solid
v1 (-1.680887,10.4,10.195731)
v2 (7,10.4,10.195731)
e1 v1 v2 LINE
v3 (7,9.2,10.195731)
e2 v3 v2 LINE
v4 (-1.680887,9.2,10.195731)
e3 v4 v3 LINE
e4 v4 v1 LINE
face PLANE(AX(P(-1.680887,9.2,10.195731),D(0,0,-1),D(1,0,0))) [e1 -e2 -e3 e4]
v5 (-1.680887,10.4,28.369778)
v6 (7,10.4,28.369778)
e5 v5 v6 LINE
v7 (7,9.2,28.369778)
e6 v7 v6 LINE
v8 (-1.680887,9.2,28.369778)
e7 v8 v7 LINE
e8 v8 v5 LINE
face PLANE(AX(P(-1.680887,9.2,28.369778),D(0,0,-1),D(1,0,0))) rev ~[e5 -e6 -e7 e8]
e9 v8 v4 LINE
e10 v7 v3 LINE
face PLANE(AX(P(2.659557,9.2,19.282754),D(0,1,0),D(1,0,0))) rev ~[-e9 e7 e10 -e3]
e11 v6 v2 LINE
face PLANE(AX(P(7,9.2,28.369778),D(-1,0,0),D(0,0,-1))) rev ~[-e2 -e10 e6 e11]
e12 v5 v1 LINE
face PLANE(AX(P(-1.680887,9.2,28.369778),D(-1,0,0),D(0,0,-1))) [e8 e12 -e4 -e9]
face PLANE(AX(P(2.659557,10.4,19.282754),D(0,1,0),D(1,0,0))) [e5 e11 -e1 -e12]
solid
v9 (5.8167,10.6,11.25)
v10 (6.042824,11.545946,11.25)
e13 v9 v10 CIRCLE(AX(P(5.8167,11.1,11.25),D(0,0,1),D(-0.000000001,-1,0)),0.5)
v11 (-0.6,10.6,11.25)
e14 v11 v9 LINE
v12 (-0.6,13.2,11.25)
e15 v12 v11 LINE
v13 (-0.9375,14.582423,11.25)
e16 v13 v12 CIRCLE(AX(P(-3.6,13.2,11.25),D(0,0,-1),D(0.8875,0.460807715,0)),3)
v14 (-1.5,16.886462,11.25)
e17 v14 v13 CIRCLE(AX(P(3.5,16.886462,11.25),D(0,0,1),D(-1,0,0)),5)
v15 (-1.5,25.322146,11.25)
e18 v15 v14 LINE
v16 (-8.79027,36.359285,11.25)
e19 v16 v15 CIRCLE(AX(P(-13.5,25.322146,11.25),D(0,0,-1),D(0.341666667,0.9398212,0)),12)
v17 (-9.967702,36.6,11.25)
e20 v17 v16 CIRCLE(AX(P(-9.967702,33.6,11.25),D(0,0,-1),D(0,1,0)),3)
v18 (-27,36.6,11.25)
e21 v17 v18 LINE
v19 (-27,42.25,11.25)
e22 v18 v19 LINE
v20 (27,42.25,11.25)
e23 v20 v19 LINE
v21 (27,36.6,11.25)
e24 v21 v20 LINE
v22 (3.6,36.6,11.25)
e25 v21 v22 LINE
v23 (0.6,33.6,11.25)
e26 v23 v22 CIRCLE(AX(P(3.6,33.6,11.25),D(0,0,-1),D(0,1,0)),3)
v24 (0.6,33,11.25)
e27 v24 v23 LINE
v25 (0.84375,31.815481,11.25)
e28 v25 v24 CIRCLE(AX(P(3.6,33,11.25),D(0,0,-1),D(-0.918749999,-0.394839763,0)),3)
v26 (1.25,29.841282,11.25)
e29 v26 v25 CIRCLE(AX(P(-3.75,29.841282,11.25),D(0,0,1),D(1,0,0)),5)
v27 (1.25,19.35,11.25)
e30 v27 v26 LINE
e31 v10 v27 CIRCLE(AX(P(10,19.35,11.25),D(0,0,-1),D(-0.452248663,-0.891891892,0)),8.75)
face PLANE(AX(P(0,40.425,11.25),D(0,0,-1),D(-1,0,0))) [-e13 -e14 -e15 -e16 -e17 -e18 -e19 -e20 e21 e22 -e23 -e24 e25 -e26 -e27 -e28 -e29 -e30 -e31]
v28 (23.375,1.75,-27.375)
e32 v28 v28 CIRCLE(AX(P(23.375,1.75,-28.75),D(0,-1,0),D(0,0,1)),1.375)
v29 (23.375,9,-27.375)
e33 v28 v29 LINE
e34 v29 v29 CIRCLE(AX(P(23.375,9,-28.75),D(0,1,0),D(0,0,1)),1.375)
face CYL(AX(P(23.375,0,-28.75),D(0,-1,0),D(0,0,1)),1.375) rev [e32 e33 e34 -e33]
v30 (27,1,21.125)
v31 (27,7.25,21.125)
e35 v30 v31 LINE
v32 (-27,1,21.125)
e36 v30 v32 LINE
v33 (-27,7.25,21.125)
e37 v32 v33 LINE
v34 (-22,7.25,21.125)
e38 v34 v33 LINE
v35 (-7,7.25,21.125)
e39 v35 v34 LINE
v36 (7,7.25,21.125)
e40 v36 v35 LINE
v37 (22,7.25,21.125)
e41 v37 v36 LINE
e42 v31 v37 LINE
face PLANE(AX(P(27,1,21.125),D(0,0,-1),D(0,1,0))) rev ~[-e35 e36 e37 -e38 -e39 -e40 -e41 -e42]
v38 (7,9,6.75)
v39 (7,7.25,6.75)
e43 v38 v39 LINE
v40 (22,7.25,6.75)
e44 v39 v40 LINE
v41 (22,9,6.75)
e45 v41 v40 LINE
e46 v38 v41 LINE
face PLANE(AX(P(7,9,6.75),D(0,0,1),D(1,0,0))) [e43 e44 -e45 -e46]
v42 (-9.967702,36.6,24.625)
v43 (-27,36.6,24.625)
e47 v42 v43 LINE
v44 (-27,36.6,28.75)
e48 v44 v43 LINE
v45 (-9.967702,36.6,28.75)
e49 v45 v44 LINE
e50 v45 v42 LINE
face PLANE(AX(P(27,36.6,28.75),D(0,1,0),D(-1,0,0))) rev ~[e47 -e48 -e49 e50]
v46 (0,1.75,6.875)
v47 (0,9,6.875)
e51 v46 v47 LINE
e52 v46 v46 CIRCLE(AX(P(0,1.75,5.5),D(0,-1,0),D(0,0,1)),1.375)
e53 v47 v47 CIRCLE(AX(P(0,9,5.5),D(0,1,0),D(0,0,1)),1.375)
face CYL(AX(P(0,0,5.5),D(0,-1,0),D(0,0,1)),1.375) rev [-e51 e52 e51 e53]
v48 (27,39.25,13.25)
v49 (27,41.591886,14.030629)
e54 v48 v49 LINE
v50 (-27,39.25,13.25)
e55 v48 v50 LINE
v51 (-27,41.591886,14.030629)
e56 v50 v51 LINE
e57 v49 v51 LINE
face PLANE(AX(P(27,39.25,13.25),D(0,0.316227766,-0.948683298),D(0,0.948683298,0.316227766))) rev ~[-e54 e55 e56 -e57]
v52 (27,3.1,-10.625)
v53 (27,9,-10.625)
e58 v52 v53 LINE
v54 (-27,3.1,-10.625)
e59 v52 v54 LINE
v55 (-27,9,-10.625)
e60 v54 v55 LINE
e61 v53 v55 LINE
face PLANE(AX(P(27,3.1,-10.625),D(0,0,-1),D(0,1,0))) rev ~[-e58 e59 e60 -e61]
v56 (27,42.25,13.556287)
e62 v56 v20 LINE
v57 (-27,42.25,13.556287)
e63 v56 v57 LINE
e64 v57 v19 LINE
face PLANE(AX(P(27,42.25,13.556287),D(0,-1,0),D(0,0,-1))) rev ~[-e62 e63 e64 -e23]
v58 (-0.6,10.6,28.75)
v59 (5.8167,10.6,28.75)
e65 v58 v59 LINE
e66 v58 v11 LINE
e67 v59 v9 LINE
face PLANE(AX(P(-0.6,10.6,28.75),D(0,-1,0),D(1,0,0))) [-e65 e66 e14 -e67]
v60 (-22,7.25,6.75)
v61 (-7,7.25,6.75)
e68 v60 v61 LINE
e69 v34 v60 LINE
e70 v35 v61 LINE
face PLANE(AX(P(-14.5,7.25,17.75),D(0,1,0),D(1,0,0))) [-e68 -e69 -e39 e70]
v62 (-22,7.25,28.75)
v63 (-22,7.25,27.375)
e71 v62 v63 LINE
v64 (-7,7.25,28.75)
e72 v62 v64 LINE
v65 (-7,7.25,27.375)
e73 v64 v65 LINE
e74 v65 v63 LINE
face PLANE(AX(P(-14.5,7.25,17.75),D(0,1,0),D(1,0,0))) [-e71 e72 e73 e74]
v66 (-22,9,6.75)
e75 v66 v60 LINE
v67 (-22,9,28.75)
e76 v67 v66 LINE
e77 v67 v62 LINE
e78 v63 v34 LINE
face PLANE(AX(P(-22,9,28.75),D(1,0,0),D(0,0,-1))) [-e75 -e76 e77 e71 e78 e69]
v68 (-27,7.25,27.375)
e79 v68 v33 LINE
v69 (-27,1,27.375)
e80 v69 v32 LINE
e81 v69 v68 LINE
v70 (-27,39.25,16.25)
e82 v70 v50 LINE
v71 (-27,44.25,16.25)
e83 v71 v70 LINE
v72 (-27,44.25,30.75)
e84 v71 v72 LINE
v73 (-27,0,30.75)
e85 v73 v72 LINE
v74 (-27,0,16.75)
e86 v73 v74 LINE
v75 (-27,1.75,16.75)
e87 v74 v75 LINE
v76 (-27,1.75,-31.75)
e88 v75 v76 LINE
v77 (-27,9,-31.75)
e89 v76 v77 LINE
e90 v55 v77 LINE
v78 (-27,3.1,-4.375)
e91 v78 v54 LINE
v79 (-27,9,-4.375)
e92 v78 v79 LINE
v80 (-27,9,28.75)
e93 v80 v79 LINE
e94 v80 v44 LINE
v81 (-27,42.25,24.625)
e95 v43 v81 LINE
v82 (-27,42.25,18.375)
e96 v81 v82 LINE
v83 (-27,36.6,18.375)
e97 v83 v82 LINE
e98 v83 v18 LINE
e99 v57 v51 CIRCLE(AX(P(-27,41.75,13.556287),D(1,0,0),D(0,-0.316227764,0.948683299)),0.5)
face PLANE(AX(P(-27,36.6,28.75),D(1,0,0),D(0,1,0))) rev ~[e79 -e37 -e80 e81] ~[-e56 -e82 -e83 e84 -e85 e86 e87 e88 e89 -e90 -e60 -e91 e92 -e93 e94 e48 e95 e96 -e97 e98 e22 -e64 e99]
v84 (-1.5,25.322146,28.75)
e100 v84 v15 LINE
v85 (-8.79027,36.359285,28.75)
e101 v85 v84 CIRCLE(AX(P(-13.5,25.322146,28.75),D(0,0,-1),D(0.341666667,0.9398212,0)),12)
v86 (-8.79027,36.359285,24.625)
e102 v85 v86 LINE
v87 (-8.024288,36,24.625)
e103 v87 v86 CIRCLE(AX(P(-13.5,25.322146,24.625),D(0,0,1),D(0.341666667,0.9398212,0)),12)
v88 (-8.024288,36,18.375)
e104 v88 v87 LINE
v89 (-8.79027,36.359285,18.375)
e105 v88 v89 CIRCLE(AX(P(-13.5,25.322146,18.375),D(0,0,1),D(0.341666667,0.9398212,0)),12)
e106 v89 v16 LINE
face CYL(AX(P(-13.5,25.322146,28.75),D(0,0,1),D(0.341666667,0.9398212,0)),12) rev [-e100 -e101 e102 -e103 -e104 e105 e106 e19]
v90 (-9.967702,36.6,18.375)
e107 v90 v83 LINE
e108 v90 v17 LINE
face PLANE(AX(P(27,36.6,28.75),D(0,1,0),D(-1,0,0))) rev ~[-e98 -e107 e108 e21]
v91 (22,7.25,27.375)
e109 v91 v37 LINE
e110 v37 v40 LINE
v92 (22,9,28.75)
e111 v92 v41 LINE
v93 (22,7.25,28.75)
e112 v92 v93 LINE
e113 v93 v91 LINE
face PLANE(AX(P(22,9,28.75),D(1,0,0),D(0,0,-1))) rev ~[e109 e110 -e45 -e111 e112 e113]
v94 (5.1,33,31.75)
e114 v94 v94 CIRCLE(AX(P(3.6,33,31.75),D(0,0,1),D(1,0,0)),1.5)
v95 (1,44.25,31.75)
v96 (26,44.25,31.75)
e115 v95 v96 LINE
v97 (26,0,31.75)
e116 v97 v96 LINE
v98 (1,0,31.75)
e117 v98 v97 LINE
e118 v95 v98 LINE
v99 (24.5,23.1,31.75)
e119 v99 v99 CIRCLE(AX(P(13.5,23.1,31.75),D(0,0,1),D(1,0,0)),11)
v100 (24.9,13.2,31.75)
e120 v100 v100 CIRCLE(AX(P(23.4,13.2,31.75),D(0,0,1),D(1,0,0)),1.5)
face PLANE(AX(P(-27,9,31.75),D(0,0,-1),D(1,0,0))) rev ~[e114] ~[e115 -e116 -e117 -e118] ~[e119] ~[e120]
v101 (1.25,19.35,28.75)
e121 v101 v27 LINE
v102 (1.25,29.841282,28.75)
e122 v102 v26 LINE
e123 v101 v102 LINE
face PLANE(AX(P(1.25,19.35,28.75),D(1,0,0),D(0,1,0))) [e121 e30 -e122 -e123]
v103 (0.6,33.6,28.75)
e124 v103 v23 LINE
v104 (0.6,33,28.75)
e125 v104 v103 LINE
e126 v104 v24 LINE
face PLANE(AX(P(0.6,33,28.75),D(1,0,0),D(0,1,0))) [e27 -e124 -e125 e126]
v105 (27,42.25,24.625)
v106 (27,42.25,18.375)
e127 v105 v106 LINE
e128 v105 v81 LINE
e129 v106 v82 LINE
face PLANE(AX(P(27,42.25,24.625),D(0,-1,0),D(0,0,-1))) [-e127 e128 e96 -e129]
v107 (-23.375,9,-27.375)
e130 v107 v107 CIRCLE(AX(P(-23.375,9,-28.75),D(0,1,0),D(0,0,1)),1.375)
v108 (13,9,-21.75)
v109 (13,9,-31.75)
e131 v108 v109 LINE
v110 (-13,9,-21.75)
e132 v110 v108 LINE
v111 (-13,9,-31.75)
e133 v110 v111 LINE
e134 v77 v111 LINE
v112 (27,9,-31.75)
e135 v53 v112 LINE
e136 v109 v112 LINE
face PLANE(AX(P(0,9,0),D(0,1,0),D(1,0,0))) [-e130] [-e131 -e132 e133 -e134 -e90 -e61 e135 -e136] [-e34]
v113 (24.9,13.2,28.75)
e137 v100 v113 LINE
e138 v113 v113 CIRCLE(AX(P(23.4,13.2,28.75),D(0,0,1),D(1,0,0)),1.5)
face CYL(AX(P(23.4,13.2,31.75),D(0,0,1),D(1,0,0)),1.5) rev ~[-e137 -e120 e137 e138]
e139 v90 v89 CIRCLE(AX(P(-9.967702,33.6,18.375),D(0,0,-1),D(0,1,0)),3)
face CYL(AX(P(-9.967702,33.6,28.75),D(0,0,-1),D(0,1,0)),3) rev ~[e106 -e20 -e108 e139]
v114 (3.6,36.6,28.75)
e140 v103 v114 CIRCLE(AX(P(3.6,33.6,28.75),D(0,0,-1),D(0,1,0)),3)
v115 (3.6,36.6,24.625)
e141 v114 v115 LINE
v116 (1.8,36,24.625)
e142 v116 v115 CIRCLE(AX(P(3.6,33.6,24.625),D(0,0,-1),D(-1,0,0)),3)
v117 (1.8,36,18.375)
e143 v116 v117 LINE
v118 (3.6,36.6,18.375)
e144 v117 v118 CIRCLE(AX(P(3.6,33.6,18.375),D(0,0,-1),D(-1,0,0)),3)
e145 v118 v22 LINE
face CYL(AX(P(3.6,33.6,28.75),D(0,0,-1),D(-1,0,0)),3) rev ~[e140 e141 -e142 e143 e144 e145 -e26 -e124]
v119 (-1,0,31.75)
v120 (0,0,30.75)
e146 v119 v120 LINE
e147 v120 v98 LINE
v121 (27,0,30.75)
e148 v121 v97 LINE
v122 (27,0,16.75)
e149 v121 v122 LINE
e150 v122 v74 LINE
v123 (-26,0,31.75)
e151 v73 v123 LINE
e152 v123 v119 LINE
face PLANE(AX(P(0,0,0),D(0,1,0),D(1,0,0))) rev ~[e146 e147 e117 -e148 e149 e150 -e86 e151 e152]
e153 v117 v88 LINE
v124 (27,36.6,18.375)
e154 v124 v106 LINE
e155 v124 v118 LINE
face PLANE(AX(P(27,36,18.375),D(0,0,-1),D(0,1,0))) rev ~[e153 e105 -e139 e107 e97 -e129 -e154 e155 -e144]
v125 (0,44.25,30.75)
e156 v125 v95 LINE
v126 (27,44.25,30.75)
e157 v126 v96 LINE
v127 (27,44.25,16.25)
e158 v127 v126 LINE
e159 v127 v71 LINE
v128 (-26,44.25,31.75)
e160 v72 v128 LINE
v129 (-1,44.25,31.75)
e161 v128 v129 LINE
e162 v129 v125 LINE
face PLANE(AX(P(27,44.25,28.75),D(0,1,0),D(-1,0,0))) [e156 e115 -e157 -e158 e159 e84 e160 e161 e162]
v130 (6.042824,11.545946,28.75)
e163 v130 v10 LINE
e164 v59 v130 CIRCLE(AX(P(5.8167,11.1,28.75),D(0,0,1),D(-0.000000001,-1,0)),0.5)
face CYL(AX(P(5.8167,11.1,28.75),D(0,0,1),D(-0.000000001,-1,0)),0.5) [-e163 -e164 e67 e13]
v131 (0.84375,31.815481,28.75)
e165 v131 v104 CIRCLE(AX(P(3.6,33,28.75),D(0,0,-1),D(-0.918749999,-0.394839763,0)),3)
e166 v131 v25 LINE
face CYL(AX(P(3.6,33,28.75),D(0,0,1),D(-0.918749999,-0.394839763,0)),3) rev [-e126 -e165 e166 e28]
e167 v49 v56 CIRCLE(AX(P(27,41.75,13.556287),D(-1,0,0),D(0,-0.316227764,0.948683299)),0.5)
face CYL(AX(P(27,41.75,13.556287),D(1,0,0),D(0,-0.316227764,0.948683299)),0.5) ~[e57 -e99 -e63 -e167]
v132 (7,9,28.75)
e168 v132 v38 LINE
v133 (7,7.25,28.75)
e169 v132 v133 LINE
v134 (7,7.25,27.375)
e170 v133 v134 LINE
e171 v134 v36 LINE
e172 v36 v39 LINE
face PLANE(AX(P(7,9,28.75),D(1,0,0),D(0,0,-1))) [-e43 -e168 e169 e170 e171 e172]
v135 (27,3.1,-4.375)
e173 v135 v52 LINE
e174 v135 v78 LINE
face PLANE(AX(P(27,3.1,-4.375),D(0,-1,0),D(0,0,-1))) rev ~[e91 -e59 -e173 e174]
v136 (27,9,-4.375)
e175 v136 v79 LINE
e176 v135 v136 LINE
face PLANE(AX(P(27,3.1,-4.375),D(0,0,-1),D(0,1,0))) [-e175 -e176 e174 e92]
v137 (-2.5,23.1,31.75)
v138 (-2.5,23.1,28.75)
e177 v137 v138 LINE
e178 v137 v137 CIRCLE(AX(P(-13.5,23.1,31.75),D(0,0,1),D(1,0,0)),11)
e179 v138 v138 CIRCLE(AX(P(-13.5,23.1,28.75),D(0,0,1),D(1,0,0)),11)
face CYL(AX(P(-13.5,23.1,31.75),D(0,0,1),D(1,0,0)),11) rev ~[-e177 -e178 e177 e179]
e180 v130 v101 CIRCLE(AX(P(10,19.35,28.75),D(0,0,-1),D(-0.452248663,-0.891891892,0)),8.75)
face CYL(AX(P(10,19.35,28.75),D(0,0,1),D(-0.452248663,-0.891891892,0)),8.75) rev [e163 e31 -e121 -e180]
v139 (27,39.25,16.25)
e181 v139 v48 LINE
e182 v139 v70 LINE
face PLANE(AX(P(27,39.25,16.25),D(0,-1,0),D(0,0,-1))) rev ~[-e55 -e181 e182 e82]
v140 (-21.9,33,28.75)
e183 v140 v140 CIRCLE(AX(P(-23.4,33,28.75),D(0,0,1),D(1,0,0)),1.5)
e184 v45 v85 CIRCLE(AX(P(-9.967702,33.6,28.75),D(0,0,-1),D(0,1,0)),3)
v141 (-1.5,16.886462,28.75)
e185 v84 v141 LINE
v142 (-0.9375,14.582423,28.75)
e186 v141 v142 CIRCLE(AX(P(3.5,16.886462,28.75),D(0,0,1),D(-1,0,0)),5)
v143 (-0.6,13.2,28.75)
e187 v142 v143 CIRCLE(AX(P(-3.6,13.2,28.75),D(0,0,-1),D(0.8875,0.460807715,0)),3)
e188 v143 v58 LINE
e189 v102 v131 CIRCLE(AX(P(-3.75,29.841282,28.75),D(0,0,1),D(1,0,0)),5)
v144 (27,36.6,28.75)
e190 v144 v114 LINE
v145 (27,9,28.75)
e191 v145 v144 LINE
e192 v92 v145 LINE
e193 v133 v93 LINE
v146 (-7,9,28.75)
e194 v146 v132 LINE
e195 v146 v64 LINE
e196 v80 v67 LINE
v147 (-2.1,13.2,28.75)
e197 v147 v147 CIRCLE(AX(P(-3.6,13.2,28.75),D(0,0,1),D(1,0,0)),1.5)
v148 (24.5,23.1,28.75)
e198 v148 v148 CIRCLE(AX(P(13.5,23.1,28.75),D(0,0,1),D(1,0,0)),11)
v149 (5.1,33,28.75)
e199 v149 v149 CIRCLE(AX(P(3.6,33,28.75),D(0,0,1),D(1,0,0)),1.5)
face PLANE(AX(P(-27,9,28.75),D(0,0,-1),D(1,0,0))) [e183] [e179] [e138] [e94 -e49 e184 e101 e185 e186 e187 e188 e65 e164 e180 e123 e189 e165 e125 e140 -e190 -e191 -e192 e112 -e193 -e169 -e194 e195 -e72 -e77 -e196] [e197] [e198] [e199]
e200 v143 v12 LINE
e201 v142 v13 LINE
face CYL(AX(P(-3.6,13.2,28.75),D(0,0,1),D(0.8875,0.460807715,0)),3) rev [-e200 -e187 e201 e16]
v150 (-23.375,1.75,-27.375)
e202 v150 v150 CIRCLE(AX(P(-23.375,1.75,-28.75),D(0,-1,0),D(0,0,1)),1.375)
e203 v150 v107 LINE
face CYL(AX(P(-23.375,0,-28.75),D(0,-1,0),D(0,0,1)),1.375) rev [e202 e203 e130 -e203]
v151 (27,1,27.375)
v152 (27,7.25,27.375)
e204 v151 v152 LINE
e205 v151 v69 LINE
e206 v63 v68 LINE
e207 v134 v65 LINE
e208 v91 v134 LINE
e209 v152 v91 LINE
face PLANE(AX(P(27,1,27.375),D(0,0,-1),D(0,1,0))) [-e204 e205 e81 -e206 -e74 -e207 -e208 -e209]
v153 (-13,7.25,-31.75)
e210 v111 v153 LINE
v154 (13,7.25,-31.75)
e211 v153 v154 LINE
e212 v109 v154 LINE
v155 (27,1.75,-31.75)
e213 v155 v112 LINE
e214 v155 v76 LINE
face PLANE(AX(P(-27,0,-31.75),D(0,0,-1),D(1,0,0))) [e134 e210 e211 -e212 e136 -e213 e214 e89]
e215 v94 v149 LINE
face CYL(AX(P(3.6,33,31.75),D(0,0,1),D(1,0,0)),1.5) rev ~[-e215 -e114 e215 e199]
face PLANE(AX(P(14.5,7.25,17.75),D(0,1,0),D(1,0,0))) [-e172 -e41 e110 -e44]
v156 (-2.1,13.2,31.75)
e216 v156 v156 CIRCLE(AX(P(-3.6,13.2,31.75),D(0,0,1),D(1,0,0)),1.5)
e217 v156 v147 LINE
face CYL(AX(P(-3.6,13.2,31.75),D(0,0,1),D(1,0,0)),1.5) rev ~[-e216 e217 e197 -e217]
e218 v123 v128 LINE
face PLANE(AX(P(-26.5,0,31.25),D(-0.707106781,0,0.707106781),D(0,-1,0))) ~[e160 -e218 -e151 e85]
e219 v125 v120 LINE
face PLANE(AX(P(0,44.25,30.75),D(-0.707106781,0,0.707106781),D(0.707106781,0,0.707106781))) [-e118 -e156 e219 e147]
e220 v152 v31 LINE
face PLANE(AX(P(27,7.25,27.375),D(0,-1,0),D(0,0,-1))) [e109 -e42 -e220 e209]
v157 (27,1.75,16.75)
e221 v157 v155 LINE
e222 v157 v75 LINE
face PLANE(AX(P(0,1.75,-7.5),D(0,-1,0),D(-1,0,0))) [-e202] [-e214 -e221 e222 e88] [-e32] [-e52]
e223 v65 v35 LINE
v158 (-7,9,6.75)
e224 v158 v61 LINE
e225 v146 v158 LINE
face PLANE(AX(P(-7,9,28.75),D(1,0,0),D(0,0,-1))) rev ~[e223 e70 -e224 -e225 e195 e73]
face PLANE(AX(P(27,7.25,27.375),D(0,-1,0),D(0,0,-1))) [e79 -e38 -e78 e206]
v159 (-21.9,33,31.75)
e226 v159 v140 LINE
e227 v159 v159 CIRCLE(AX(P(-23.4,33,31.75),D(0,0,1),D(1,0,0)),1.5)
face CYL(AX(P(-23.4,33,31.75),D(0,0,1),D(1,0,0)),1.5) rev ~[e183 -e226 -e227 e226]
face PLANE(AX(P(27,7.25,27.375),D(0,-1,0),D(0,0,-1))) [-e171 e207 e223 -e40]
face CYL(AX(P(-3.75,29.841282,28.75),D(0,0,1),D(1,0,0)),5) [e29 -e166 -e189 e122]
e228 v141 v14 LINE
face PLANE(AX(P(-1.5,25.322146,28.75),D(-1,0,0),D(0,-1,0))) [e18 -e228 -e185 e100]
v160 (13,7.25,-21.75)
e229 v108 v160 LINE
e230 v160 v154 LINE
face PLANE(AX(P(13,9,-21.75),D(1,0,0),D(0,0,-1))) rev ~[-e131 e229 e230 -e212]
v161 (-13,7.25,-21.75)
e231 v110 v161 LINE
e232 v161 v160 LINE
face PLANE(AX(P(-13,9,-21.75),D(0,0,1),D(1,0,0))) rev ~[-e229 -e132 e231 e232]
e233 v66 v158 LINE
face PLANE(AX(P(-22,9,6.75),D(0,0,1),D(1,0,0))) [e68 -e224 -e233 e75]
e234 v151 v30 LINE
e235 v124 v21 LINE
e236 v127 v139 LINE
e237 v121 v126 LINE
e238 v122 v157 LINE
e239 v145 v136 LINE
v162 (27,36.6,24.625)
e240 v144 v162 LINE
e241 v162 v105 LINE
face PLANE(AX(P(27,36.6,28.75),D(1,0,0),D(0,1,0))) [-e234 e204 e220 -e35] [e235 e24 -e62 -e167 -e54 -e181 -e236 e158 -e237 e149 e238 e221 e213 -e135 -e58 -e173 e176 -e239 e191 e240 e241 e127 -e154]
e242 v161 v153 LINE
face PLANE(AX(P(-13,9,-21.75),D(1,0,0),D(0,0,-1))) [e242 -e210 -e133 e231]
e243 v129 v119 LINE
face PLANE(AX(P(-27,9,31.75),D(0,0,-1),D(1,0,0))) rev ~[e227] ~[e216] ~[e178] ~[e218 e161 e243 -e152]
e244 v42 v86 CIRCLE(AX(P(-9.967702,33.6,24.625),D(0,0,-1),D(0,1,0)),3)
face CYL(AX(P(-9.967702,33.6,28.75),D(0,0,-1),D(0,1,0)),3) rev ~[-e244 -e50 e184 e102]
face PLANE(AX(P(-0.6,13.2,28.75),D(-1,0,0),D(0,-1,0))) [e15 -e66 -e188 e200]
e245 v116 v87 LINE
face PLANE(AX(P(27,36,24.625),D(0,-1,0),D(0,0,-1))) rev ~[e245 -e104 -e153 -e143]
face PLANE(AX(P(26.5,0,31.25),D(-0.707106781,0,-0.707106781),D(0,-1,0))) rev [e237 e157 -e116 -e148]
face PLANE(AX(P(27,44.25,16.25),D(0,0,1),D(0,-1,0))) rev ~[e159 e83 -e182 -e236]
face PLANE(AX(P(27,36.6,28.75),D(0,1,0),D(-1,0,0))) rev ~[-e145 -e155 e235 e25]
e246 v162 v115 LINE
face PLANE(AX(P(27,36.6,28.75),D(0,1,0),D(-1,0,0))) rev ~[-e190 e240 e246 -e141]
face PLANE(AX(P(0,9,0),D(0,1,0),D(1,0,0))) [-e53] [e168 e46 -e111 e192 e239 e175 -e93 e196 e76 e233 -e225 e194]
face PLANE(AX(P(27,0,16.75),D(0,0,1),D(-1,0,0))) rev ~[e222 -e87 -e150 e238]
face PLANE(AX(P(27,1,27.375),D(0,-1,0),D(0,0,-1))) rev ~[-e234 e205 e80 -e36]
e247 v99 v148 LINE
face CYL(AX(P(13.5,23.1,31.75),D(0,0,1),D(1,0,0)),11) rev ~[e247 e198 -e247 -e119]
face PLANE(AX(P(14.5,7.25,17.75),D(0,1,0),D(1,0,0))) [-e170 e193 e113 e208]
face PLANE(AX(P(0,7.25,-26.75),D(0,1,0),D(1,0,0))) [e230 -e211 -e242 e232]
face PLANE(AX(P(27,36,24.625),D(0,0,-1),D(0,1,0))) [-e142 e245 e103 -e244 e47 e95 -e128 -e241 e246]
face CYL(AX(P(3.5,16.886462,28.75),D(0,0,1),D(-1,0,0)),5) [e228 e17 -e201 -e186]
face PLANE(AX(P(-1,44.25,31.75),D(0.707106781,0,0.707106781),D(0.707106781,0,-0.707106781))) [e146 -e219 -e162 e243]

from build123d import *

# Parameters (mm, degrees)
SKETCH1_W           = 54
SKETCH1_H           = 63.5
SKETCH1_R           = 1.375
BOSS_EXTRUDE1_DEPTH = 9
SKETCH2_W           = 54
SKETCH2_H           = 3
BOSS_EXTRUDE2_DEPTH = 35.25
SKETCH3_R           = 11
SKETCH3_R_2         = 1.5
CUT_EXTRUDE1_DEPTH  = 82.9714127
SKETCH4_W           = 54
SKETCH4_H           = 48.5
CUT_EXTRUDE2_DEPTH  = 1.75
BOSS_EXTRUDE3_DEPTH = 17.5
SKETCH6_W           = 54
SKETCH6_H           = 7.65
BOSS_EXTRUDE5_DEPTH = 17.5
FILLET2_R           = 3
SKETCH8_W           = 15
SKETCH8_H           = 22
SKETCH8_W_2         = 26
SKETCH8_H_2         = 10
CUT_EXTRUDE4_DEPTH  = 1.75
SKETCH7_W           = 6.25
SKETCH7_H           = 6.25
SKETCH7_H_2         = 5.9
CUT_EXTRUDE3_DEPTH  = 77.695012876
CHAMFER2_SIZE       = 1
CUT_EXTRUDE5_DEPTH  = 61.787539842
CUT_EXTRUDE6_DEPTH  = 77.695012876
BOSS_EXTRUDE6_START = 0.2
SKETCH13_W          = 8.680886663
SKETCH13_H          = 18.174047098
BOSS_EXTRUDE6_DEPTH = 1.2


with BuildPart() as part:
    # Sketch1 → Boss-Extrude1 (new body)
    with BuildSketch(Plane(origin=(0, 0, 0), x_dir=(1, 0, 0), z_dir=(0, 1, 0))):
        Rectangle(SKETCH1_W, SKETCH1_H)
        with Locations(Location((-23.375, 28.75, 0), (0, 0, 270))):
            Circle(SKETCH1_R, mode=Mode.SUBTRACT)
        with Locations(Location((23.375, 28.75, 0), (0, 0, 270))):
            Circle(SKETCH1_R, mode=Mode.SUBTRACT)
        with Locations(Location((0, -5.5, 0), (0, 0, 270))):
            Circle(SKETCH1_R, mode=Mode.SUBTRACT)
    extrude(amount=BOSS_EXTRUDE1_DEPTH)

    # Sketch2 → Boss-Extrude2 (add)
    with BuildSketch(Plane(origin=(0, 9, 0), x_dir=(1, 0, 0), z_dir=(0, 1, 0))):
        with Locations((0, -30.25)):
            Rectangle(SKETCH2_W, SKETCH2_H)
    extrude(amount=BOSS_EXTRUDE2_DEPTH)

    # Sketch3 → Cut-Extrude1 (cut, through all)
    with BuildSketch(Plane.XY.offset(31.75)):
        with Locations((-13.5, 23.1)):
            Circle(SKETCH3_R)
        with Locations((13.5, 23.1)):
            Circle(SKETCH3_R)
        with Locations((-23.4, 33)):
            Circle(SKETCH3_R_2)
        with Locations((-3.6, 13.2)):
            Circle(SKETCH3_R_2)
        with Locations((3.6, 33)):
            Circle(SKETCH3_R_2)
        with Locations((23.4, 13.2)):
            Circle(SKETCH3_R_2)
    extrude(amount=-CUT_EXTRUDE1_DEPTH, mode=Mode.SUBTRACT)

    # Sketch4 → Cut-Extrude2 (cut)
    with BuildSketch(Plane(origin=(0, 0, 0), x_dir=(-1, 0, 0), z_dir=(0, -1, 0))):
        with Locations((0, 7.5)):
            Rectangle(SKETCH4_W, SKETCH4_H)
    extrude(amount=-CUT_EXTRUDE2_DEPTH, mode=Mode.SUBTRACT)

    # Sketch5 → Boss-Extrude3 (add)
    with BuildSketch(Plane(origin=(0, 0, 28.75), x_dir=(-1, 0, 0), z_dir=(0, 0, -1))):
        with BuildLine():
            Line((-1.25, 23.1), (-1.25, 29.841281906))
            ThreePointArc((-1.25, 29.841281906), (-1.147384506, 30.849064124), (-0.84375, 31.815480715))
            ThreePointArc((-0.84375, 31.815480715), (-0.661569296, 32.395330669), (-0.6, 33))
            Line((-0.6, 33), (-0.6, 36.6))
            Line((-0.6, 36.6), (9.4, 36.6))
            ThreePointArc((9.4, 36.6), (3.6714701, 32.206911385), (1.5, 25.322145594))
            Line((1.5, 25.322145594), (1.5, 23.1))
            Line((1.5, 23.1), (1.5, 16.886461718))
            ThreePointArc((1.5, 16.886461718), (1.357339807, 15.700607596), (0.9375, 14.582423144))
            ThreePointArc((0.9375, 14.582423144), (0.685596116, 13.911512474), (0.6, 13.2))
            Line((0.6, 13.2), (0.6, 10.6))
            Line((0.6, 10.6), (0, 10.6))
            Line((0, 10.6), (-5.816699867, 10.6))
            ThreePointArc((-5.816699867, 10.6), (-6.30299863, 10.983752361), (-6.042824199, 11.545945946))
            ThreePointArc((-6.042824199, 11.545945946), (-2.543868689, 14.770850967), (-1.25, 19.35))
            Line((-1.25, 19.35), (-1.25, 23.1))
        make_face()
    extrude(amount=BOSS_EXTRUDE3_DEPTH)

    # Sketch6 → Boss-Extrude5 (add)
    with BuildSketch(Plane(origin=(0, 0, 28.75), x_dir=(-1, 0, 0), z_dir=(0, 0, -1))):
        with Locations((0, 40.425)):
            Rectangle(SKETCH6_W, SKETCH6_H)
    extrude(amount=BOSS_EXTRUDE5_DEPTH)

    # Fillet2
    fillet2_edges = [part.edges().sort_by_distance(p)[0] for p in [
        (-9.4, 36.6, 20),
        (0.6, 36.6, 20),
    ]]
    fillet(fillet2_edges, radius=FILLET2_R)

    # Sketch8 → Cut-Extrude4 (cut)
    with BuildSketch(Plane(origin=(0, 9, 0), x_dir=(1, 0, 0), z_dir=(0, 1, 0))):
        with Locations((14.5, -17.75)):
            Rectangle(SKETCH8_W, SKETCH8_H)
        with Locations((-14.5, -17.75)):
            Rectangle(SKETCH8_W, SKETCH8_H)
        with Locations((0, 26.75)):
            Rectangle(SKETCH8_W_2, SKETCH8_H_2)
    extrude(amount=-CUT_EXTRUDE4_DEPTH, mode=Mode.SUBTRACT)

    # Sketch7 → Cut-Extrude3 (cut, through all)
    with BuildSketch(Plane(origin=(27, 0, 0), x_dir=(0, 0, -1), z_dir=(1, 0, 0))):
        with Locations((-24.25, 4.125)):
            Rectangle(SKETCH7_W, SKETCH7_H)
        with Locations((-21.5, 39.125)):
            Rectangle(SKETCH7_W, SKETCH7_H)
        with Locations((7.5, 6.05)):
            Rectangle(SKETCH7_W, SKETCH7_H_2)
    extrude(amount=-CUT_EXTRUDE3_DEPTH, mode=Mode.SUBTRACT)

    # Chamfer2
    chamfer2_edges = [part.edges().sort_by_distance(p)[0] for p in [
        (27, 22.125, 31.75),
        (-27, 22.125, 31.75),
    ]]
    chamfer(chamfer2_edges, length=CHAMFER2_SIZE)

    # Sketch9 → Cut-Extrude5 (cut, through all)
    with BuildSketch(Plane(origin=(0, 44.25, 0), x_dir=(1, 0, 0), z_dir=(0, 1, 0))):
        Polygon((-1, -31.75), (0, -30.75), (1, -31.75), align=None)
    extrude(amount=-CUT_EXTRUDE5_DEPTH, mode=Mode.SUBTRACT)

    # Sketch10 → Cut-Extrude6 (cut, through all)
    with BuildSketch(Plane(origin=(27, 0, 0), x_dir=(0, 0, -1), z_dir=(1, 0, 0))):
        with BuildLine():
            Line((-11.25, 44.25), (-16.25, 44.25))
            Line((-16.25, 44.25), (-16.25, 39.25))
            Line((-16.25, 39.25), (-13.25, 39.25))
            Line((-13.25, 39.25), (-14.030628706, 41.591886117))
            ThreePointArc((-14.030628706, 41.591886117), (-13.961908149, 42.042355142), (-13.556287057, 42.25))
            Line((-13.556287057, 42.25), (-11.25, 42.25))
            Line((-11.25, 42.25), (-11.25, 44.25))
        make_face()
    extrude(amount=-CUT_EXTRUDE6_DEPTH, mode=Mode.SUBTRACT)


with BuildPart() as body_2:
    # Sketch13 → Boss-Extrude6 (new body)
    with BuildSketch(Plane(origin=(0, 9, 0), x_dir=(1, 0, 0), z_dir=(0, 1, 0)).offset(BOSS_EXTRUDE6_START)):
        with Locations((2.659556669, -19.282754062)):
            Rectangle(SKETCH13_W, SKETCH13_H)
    extrude(amount=BOSS_EXTRUDE6_DEPTH)


solid = Compound([part.part, body_2.part])
